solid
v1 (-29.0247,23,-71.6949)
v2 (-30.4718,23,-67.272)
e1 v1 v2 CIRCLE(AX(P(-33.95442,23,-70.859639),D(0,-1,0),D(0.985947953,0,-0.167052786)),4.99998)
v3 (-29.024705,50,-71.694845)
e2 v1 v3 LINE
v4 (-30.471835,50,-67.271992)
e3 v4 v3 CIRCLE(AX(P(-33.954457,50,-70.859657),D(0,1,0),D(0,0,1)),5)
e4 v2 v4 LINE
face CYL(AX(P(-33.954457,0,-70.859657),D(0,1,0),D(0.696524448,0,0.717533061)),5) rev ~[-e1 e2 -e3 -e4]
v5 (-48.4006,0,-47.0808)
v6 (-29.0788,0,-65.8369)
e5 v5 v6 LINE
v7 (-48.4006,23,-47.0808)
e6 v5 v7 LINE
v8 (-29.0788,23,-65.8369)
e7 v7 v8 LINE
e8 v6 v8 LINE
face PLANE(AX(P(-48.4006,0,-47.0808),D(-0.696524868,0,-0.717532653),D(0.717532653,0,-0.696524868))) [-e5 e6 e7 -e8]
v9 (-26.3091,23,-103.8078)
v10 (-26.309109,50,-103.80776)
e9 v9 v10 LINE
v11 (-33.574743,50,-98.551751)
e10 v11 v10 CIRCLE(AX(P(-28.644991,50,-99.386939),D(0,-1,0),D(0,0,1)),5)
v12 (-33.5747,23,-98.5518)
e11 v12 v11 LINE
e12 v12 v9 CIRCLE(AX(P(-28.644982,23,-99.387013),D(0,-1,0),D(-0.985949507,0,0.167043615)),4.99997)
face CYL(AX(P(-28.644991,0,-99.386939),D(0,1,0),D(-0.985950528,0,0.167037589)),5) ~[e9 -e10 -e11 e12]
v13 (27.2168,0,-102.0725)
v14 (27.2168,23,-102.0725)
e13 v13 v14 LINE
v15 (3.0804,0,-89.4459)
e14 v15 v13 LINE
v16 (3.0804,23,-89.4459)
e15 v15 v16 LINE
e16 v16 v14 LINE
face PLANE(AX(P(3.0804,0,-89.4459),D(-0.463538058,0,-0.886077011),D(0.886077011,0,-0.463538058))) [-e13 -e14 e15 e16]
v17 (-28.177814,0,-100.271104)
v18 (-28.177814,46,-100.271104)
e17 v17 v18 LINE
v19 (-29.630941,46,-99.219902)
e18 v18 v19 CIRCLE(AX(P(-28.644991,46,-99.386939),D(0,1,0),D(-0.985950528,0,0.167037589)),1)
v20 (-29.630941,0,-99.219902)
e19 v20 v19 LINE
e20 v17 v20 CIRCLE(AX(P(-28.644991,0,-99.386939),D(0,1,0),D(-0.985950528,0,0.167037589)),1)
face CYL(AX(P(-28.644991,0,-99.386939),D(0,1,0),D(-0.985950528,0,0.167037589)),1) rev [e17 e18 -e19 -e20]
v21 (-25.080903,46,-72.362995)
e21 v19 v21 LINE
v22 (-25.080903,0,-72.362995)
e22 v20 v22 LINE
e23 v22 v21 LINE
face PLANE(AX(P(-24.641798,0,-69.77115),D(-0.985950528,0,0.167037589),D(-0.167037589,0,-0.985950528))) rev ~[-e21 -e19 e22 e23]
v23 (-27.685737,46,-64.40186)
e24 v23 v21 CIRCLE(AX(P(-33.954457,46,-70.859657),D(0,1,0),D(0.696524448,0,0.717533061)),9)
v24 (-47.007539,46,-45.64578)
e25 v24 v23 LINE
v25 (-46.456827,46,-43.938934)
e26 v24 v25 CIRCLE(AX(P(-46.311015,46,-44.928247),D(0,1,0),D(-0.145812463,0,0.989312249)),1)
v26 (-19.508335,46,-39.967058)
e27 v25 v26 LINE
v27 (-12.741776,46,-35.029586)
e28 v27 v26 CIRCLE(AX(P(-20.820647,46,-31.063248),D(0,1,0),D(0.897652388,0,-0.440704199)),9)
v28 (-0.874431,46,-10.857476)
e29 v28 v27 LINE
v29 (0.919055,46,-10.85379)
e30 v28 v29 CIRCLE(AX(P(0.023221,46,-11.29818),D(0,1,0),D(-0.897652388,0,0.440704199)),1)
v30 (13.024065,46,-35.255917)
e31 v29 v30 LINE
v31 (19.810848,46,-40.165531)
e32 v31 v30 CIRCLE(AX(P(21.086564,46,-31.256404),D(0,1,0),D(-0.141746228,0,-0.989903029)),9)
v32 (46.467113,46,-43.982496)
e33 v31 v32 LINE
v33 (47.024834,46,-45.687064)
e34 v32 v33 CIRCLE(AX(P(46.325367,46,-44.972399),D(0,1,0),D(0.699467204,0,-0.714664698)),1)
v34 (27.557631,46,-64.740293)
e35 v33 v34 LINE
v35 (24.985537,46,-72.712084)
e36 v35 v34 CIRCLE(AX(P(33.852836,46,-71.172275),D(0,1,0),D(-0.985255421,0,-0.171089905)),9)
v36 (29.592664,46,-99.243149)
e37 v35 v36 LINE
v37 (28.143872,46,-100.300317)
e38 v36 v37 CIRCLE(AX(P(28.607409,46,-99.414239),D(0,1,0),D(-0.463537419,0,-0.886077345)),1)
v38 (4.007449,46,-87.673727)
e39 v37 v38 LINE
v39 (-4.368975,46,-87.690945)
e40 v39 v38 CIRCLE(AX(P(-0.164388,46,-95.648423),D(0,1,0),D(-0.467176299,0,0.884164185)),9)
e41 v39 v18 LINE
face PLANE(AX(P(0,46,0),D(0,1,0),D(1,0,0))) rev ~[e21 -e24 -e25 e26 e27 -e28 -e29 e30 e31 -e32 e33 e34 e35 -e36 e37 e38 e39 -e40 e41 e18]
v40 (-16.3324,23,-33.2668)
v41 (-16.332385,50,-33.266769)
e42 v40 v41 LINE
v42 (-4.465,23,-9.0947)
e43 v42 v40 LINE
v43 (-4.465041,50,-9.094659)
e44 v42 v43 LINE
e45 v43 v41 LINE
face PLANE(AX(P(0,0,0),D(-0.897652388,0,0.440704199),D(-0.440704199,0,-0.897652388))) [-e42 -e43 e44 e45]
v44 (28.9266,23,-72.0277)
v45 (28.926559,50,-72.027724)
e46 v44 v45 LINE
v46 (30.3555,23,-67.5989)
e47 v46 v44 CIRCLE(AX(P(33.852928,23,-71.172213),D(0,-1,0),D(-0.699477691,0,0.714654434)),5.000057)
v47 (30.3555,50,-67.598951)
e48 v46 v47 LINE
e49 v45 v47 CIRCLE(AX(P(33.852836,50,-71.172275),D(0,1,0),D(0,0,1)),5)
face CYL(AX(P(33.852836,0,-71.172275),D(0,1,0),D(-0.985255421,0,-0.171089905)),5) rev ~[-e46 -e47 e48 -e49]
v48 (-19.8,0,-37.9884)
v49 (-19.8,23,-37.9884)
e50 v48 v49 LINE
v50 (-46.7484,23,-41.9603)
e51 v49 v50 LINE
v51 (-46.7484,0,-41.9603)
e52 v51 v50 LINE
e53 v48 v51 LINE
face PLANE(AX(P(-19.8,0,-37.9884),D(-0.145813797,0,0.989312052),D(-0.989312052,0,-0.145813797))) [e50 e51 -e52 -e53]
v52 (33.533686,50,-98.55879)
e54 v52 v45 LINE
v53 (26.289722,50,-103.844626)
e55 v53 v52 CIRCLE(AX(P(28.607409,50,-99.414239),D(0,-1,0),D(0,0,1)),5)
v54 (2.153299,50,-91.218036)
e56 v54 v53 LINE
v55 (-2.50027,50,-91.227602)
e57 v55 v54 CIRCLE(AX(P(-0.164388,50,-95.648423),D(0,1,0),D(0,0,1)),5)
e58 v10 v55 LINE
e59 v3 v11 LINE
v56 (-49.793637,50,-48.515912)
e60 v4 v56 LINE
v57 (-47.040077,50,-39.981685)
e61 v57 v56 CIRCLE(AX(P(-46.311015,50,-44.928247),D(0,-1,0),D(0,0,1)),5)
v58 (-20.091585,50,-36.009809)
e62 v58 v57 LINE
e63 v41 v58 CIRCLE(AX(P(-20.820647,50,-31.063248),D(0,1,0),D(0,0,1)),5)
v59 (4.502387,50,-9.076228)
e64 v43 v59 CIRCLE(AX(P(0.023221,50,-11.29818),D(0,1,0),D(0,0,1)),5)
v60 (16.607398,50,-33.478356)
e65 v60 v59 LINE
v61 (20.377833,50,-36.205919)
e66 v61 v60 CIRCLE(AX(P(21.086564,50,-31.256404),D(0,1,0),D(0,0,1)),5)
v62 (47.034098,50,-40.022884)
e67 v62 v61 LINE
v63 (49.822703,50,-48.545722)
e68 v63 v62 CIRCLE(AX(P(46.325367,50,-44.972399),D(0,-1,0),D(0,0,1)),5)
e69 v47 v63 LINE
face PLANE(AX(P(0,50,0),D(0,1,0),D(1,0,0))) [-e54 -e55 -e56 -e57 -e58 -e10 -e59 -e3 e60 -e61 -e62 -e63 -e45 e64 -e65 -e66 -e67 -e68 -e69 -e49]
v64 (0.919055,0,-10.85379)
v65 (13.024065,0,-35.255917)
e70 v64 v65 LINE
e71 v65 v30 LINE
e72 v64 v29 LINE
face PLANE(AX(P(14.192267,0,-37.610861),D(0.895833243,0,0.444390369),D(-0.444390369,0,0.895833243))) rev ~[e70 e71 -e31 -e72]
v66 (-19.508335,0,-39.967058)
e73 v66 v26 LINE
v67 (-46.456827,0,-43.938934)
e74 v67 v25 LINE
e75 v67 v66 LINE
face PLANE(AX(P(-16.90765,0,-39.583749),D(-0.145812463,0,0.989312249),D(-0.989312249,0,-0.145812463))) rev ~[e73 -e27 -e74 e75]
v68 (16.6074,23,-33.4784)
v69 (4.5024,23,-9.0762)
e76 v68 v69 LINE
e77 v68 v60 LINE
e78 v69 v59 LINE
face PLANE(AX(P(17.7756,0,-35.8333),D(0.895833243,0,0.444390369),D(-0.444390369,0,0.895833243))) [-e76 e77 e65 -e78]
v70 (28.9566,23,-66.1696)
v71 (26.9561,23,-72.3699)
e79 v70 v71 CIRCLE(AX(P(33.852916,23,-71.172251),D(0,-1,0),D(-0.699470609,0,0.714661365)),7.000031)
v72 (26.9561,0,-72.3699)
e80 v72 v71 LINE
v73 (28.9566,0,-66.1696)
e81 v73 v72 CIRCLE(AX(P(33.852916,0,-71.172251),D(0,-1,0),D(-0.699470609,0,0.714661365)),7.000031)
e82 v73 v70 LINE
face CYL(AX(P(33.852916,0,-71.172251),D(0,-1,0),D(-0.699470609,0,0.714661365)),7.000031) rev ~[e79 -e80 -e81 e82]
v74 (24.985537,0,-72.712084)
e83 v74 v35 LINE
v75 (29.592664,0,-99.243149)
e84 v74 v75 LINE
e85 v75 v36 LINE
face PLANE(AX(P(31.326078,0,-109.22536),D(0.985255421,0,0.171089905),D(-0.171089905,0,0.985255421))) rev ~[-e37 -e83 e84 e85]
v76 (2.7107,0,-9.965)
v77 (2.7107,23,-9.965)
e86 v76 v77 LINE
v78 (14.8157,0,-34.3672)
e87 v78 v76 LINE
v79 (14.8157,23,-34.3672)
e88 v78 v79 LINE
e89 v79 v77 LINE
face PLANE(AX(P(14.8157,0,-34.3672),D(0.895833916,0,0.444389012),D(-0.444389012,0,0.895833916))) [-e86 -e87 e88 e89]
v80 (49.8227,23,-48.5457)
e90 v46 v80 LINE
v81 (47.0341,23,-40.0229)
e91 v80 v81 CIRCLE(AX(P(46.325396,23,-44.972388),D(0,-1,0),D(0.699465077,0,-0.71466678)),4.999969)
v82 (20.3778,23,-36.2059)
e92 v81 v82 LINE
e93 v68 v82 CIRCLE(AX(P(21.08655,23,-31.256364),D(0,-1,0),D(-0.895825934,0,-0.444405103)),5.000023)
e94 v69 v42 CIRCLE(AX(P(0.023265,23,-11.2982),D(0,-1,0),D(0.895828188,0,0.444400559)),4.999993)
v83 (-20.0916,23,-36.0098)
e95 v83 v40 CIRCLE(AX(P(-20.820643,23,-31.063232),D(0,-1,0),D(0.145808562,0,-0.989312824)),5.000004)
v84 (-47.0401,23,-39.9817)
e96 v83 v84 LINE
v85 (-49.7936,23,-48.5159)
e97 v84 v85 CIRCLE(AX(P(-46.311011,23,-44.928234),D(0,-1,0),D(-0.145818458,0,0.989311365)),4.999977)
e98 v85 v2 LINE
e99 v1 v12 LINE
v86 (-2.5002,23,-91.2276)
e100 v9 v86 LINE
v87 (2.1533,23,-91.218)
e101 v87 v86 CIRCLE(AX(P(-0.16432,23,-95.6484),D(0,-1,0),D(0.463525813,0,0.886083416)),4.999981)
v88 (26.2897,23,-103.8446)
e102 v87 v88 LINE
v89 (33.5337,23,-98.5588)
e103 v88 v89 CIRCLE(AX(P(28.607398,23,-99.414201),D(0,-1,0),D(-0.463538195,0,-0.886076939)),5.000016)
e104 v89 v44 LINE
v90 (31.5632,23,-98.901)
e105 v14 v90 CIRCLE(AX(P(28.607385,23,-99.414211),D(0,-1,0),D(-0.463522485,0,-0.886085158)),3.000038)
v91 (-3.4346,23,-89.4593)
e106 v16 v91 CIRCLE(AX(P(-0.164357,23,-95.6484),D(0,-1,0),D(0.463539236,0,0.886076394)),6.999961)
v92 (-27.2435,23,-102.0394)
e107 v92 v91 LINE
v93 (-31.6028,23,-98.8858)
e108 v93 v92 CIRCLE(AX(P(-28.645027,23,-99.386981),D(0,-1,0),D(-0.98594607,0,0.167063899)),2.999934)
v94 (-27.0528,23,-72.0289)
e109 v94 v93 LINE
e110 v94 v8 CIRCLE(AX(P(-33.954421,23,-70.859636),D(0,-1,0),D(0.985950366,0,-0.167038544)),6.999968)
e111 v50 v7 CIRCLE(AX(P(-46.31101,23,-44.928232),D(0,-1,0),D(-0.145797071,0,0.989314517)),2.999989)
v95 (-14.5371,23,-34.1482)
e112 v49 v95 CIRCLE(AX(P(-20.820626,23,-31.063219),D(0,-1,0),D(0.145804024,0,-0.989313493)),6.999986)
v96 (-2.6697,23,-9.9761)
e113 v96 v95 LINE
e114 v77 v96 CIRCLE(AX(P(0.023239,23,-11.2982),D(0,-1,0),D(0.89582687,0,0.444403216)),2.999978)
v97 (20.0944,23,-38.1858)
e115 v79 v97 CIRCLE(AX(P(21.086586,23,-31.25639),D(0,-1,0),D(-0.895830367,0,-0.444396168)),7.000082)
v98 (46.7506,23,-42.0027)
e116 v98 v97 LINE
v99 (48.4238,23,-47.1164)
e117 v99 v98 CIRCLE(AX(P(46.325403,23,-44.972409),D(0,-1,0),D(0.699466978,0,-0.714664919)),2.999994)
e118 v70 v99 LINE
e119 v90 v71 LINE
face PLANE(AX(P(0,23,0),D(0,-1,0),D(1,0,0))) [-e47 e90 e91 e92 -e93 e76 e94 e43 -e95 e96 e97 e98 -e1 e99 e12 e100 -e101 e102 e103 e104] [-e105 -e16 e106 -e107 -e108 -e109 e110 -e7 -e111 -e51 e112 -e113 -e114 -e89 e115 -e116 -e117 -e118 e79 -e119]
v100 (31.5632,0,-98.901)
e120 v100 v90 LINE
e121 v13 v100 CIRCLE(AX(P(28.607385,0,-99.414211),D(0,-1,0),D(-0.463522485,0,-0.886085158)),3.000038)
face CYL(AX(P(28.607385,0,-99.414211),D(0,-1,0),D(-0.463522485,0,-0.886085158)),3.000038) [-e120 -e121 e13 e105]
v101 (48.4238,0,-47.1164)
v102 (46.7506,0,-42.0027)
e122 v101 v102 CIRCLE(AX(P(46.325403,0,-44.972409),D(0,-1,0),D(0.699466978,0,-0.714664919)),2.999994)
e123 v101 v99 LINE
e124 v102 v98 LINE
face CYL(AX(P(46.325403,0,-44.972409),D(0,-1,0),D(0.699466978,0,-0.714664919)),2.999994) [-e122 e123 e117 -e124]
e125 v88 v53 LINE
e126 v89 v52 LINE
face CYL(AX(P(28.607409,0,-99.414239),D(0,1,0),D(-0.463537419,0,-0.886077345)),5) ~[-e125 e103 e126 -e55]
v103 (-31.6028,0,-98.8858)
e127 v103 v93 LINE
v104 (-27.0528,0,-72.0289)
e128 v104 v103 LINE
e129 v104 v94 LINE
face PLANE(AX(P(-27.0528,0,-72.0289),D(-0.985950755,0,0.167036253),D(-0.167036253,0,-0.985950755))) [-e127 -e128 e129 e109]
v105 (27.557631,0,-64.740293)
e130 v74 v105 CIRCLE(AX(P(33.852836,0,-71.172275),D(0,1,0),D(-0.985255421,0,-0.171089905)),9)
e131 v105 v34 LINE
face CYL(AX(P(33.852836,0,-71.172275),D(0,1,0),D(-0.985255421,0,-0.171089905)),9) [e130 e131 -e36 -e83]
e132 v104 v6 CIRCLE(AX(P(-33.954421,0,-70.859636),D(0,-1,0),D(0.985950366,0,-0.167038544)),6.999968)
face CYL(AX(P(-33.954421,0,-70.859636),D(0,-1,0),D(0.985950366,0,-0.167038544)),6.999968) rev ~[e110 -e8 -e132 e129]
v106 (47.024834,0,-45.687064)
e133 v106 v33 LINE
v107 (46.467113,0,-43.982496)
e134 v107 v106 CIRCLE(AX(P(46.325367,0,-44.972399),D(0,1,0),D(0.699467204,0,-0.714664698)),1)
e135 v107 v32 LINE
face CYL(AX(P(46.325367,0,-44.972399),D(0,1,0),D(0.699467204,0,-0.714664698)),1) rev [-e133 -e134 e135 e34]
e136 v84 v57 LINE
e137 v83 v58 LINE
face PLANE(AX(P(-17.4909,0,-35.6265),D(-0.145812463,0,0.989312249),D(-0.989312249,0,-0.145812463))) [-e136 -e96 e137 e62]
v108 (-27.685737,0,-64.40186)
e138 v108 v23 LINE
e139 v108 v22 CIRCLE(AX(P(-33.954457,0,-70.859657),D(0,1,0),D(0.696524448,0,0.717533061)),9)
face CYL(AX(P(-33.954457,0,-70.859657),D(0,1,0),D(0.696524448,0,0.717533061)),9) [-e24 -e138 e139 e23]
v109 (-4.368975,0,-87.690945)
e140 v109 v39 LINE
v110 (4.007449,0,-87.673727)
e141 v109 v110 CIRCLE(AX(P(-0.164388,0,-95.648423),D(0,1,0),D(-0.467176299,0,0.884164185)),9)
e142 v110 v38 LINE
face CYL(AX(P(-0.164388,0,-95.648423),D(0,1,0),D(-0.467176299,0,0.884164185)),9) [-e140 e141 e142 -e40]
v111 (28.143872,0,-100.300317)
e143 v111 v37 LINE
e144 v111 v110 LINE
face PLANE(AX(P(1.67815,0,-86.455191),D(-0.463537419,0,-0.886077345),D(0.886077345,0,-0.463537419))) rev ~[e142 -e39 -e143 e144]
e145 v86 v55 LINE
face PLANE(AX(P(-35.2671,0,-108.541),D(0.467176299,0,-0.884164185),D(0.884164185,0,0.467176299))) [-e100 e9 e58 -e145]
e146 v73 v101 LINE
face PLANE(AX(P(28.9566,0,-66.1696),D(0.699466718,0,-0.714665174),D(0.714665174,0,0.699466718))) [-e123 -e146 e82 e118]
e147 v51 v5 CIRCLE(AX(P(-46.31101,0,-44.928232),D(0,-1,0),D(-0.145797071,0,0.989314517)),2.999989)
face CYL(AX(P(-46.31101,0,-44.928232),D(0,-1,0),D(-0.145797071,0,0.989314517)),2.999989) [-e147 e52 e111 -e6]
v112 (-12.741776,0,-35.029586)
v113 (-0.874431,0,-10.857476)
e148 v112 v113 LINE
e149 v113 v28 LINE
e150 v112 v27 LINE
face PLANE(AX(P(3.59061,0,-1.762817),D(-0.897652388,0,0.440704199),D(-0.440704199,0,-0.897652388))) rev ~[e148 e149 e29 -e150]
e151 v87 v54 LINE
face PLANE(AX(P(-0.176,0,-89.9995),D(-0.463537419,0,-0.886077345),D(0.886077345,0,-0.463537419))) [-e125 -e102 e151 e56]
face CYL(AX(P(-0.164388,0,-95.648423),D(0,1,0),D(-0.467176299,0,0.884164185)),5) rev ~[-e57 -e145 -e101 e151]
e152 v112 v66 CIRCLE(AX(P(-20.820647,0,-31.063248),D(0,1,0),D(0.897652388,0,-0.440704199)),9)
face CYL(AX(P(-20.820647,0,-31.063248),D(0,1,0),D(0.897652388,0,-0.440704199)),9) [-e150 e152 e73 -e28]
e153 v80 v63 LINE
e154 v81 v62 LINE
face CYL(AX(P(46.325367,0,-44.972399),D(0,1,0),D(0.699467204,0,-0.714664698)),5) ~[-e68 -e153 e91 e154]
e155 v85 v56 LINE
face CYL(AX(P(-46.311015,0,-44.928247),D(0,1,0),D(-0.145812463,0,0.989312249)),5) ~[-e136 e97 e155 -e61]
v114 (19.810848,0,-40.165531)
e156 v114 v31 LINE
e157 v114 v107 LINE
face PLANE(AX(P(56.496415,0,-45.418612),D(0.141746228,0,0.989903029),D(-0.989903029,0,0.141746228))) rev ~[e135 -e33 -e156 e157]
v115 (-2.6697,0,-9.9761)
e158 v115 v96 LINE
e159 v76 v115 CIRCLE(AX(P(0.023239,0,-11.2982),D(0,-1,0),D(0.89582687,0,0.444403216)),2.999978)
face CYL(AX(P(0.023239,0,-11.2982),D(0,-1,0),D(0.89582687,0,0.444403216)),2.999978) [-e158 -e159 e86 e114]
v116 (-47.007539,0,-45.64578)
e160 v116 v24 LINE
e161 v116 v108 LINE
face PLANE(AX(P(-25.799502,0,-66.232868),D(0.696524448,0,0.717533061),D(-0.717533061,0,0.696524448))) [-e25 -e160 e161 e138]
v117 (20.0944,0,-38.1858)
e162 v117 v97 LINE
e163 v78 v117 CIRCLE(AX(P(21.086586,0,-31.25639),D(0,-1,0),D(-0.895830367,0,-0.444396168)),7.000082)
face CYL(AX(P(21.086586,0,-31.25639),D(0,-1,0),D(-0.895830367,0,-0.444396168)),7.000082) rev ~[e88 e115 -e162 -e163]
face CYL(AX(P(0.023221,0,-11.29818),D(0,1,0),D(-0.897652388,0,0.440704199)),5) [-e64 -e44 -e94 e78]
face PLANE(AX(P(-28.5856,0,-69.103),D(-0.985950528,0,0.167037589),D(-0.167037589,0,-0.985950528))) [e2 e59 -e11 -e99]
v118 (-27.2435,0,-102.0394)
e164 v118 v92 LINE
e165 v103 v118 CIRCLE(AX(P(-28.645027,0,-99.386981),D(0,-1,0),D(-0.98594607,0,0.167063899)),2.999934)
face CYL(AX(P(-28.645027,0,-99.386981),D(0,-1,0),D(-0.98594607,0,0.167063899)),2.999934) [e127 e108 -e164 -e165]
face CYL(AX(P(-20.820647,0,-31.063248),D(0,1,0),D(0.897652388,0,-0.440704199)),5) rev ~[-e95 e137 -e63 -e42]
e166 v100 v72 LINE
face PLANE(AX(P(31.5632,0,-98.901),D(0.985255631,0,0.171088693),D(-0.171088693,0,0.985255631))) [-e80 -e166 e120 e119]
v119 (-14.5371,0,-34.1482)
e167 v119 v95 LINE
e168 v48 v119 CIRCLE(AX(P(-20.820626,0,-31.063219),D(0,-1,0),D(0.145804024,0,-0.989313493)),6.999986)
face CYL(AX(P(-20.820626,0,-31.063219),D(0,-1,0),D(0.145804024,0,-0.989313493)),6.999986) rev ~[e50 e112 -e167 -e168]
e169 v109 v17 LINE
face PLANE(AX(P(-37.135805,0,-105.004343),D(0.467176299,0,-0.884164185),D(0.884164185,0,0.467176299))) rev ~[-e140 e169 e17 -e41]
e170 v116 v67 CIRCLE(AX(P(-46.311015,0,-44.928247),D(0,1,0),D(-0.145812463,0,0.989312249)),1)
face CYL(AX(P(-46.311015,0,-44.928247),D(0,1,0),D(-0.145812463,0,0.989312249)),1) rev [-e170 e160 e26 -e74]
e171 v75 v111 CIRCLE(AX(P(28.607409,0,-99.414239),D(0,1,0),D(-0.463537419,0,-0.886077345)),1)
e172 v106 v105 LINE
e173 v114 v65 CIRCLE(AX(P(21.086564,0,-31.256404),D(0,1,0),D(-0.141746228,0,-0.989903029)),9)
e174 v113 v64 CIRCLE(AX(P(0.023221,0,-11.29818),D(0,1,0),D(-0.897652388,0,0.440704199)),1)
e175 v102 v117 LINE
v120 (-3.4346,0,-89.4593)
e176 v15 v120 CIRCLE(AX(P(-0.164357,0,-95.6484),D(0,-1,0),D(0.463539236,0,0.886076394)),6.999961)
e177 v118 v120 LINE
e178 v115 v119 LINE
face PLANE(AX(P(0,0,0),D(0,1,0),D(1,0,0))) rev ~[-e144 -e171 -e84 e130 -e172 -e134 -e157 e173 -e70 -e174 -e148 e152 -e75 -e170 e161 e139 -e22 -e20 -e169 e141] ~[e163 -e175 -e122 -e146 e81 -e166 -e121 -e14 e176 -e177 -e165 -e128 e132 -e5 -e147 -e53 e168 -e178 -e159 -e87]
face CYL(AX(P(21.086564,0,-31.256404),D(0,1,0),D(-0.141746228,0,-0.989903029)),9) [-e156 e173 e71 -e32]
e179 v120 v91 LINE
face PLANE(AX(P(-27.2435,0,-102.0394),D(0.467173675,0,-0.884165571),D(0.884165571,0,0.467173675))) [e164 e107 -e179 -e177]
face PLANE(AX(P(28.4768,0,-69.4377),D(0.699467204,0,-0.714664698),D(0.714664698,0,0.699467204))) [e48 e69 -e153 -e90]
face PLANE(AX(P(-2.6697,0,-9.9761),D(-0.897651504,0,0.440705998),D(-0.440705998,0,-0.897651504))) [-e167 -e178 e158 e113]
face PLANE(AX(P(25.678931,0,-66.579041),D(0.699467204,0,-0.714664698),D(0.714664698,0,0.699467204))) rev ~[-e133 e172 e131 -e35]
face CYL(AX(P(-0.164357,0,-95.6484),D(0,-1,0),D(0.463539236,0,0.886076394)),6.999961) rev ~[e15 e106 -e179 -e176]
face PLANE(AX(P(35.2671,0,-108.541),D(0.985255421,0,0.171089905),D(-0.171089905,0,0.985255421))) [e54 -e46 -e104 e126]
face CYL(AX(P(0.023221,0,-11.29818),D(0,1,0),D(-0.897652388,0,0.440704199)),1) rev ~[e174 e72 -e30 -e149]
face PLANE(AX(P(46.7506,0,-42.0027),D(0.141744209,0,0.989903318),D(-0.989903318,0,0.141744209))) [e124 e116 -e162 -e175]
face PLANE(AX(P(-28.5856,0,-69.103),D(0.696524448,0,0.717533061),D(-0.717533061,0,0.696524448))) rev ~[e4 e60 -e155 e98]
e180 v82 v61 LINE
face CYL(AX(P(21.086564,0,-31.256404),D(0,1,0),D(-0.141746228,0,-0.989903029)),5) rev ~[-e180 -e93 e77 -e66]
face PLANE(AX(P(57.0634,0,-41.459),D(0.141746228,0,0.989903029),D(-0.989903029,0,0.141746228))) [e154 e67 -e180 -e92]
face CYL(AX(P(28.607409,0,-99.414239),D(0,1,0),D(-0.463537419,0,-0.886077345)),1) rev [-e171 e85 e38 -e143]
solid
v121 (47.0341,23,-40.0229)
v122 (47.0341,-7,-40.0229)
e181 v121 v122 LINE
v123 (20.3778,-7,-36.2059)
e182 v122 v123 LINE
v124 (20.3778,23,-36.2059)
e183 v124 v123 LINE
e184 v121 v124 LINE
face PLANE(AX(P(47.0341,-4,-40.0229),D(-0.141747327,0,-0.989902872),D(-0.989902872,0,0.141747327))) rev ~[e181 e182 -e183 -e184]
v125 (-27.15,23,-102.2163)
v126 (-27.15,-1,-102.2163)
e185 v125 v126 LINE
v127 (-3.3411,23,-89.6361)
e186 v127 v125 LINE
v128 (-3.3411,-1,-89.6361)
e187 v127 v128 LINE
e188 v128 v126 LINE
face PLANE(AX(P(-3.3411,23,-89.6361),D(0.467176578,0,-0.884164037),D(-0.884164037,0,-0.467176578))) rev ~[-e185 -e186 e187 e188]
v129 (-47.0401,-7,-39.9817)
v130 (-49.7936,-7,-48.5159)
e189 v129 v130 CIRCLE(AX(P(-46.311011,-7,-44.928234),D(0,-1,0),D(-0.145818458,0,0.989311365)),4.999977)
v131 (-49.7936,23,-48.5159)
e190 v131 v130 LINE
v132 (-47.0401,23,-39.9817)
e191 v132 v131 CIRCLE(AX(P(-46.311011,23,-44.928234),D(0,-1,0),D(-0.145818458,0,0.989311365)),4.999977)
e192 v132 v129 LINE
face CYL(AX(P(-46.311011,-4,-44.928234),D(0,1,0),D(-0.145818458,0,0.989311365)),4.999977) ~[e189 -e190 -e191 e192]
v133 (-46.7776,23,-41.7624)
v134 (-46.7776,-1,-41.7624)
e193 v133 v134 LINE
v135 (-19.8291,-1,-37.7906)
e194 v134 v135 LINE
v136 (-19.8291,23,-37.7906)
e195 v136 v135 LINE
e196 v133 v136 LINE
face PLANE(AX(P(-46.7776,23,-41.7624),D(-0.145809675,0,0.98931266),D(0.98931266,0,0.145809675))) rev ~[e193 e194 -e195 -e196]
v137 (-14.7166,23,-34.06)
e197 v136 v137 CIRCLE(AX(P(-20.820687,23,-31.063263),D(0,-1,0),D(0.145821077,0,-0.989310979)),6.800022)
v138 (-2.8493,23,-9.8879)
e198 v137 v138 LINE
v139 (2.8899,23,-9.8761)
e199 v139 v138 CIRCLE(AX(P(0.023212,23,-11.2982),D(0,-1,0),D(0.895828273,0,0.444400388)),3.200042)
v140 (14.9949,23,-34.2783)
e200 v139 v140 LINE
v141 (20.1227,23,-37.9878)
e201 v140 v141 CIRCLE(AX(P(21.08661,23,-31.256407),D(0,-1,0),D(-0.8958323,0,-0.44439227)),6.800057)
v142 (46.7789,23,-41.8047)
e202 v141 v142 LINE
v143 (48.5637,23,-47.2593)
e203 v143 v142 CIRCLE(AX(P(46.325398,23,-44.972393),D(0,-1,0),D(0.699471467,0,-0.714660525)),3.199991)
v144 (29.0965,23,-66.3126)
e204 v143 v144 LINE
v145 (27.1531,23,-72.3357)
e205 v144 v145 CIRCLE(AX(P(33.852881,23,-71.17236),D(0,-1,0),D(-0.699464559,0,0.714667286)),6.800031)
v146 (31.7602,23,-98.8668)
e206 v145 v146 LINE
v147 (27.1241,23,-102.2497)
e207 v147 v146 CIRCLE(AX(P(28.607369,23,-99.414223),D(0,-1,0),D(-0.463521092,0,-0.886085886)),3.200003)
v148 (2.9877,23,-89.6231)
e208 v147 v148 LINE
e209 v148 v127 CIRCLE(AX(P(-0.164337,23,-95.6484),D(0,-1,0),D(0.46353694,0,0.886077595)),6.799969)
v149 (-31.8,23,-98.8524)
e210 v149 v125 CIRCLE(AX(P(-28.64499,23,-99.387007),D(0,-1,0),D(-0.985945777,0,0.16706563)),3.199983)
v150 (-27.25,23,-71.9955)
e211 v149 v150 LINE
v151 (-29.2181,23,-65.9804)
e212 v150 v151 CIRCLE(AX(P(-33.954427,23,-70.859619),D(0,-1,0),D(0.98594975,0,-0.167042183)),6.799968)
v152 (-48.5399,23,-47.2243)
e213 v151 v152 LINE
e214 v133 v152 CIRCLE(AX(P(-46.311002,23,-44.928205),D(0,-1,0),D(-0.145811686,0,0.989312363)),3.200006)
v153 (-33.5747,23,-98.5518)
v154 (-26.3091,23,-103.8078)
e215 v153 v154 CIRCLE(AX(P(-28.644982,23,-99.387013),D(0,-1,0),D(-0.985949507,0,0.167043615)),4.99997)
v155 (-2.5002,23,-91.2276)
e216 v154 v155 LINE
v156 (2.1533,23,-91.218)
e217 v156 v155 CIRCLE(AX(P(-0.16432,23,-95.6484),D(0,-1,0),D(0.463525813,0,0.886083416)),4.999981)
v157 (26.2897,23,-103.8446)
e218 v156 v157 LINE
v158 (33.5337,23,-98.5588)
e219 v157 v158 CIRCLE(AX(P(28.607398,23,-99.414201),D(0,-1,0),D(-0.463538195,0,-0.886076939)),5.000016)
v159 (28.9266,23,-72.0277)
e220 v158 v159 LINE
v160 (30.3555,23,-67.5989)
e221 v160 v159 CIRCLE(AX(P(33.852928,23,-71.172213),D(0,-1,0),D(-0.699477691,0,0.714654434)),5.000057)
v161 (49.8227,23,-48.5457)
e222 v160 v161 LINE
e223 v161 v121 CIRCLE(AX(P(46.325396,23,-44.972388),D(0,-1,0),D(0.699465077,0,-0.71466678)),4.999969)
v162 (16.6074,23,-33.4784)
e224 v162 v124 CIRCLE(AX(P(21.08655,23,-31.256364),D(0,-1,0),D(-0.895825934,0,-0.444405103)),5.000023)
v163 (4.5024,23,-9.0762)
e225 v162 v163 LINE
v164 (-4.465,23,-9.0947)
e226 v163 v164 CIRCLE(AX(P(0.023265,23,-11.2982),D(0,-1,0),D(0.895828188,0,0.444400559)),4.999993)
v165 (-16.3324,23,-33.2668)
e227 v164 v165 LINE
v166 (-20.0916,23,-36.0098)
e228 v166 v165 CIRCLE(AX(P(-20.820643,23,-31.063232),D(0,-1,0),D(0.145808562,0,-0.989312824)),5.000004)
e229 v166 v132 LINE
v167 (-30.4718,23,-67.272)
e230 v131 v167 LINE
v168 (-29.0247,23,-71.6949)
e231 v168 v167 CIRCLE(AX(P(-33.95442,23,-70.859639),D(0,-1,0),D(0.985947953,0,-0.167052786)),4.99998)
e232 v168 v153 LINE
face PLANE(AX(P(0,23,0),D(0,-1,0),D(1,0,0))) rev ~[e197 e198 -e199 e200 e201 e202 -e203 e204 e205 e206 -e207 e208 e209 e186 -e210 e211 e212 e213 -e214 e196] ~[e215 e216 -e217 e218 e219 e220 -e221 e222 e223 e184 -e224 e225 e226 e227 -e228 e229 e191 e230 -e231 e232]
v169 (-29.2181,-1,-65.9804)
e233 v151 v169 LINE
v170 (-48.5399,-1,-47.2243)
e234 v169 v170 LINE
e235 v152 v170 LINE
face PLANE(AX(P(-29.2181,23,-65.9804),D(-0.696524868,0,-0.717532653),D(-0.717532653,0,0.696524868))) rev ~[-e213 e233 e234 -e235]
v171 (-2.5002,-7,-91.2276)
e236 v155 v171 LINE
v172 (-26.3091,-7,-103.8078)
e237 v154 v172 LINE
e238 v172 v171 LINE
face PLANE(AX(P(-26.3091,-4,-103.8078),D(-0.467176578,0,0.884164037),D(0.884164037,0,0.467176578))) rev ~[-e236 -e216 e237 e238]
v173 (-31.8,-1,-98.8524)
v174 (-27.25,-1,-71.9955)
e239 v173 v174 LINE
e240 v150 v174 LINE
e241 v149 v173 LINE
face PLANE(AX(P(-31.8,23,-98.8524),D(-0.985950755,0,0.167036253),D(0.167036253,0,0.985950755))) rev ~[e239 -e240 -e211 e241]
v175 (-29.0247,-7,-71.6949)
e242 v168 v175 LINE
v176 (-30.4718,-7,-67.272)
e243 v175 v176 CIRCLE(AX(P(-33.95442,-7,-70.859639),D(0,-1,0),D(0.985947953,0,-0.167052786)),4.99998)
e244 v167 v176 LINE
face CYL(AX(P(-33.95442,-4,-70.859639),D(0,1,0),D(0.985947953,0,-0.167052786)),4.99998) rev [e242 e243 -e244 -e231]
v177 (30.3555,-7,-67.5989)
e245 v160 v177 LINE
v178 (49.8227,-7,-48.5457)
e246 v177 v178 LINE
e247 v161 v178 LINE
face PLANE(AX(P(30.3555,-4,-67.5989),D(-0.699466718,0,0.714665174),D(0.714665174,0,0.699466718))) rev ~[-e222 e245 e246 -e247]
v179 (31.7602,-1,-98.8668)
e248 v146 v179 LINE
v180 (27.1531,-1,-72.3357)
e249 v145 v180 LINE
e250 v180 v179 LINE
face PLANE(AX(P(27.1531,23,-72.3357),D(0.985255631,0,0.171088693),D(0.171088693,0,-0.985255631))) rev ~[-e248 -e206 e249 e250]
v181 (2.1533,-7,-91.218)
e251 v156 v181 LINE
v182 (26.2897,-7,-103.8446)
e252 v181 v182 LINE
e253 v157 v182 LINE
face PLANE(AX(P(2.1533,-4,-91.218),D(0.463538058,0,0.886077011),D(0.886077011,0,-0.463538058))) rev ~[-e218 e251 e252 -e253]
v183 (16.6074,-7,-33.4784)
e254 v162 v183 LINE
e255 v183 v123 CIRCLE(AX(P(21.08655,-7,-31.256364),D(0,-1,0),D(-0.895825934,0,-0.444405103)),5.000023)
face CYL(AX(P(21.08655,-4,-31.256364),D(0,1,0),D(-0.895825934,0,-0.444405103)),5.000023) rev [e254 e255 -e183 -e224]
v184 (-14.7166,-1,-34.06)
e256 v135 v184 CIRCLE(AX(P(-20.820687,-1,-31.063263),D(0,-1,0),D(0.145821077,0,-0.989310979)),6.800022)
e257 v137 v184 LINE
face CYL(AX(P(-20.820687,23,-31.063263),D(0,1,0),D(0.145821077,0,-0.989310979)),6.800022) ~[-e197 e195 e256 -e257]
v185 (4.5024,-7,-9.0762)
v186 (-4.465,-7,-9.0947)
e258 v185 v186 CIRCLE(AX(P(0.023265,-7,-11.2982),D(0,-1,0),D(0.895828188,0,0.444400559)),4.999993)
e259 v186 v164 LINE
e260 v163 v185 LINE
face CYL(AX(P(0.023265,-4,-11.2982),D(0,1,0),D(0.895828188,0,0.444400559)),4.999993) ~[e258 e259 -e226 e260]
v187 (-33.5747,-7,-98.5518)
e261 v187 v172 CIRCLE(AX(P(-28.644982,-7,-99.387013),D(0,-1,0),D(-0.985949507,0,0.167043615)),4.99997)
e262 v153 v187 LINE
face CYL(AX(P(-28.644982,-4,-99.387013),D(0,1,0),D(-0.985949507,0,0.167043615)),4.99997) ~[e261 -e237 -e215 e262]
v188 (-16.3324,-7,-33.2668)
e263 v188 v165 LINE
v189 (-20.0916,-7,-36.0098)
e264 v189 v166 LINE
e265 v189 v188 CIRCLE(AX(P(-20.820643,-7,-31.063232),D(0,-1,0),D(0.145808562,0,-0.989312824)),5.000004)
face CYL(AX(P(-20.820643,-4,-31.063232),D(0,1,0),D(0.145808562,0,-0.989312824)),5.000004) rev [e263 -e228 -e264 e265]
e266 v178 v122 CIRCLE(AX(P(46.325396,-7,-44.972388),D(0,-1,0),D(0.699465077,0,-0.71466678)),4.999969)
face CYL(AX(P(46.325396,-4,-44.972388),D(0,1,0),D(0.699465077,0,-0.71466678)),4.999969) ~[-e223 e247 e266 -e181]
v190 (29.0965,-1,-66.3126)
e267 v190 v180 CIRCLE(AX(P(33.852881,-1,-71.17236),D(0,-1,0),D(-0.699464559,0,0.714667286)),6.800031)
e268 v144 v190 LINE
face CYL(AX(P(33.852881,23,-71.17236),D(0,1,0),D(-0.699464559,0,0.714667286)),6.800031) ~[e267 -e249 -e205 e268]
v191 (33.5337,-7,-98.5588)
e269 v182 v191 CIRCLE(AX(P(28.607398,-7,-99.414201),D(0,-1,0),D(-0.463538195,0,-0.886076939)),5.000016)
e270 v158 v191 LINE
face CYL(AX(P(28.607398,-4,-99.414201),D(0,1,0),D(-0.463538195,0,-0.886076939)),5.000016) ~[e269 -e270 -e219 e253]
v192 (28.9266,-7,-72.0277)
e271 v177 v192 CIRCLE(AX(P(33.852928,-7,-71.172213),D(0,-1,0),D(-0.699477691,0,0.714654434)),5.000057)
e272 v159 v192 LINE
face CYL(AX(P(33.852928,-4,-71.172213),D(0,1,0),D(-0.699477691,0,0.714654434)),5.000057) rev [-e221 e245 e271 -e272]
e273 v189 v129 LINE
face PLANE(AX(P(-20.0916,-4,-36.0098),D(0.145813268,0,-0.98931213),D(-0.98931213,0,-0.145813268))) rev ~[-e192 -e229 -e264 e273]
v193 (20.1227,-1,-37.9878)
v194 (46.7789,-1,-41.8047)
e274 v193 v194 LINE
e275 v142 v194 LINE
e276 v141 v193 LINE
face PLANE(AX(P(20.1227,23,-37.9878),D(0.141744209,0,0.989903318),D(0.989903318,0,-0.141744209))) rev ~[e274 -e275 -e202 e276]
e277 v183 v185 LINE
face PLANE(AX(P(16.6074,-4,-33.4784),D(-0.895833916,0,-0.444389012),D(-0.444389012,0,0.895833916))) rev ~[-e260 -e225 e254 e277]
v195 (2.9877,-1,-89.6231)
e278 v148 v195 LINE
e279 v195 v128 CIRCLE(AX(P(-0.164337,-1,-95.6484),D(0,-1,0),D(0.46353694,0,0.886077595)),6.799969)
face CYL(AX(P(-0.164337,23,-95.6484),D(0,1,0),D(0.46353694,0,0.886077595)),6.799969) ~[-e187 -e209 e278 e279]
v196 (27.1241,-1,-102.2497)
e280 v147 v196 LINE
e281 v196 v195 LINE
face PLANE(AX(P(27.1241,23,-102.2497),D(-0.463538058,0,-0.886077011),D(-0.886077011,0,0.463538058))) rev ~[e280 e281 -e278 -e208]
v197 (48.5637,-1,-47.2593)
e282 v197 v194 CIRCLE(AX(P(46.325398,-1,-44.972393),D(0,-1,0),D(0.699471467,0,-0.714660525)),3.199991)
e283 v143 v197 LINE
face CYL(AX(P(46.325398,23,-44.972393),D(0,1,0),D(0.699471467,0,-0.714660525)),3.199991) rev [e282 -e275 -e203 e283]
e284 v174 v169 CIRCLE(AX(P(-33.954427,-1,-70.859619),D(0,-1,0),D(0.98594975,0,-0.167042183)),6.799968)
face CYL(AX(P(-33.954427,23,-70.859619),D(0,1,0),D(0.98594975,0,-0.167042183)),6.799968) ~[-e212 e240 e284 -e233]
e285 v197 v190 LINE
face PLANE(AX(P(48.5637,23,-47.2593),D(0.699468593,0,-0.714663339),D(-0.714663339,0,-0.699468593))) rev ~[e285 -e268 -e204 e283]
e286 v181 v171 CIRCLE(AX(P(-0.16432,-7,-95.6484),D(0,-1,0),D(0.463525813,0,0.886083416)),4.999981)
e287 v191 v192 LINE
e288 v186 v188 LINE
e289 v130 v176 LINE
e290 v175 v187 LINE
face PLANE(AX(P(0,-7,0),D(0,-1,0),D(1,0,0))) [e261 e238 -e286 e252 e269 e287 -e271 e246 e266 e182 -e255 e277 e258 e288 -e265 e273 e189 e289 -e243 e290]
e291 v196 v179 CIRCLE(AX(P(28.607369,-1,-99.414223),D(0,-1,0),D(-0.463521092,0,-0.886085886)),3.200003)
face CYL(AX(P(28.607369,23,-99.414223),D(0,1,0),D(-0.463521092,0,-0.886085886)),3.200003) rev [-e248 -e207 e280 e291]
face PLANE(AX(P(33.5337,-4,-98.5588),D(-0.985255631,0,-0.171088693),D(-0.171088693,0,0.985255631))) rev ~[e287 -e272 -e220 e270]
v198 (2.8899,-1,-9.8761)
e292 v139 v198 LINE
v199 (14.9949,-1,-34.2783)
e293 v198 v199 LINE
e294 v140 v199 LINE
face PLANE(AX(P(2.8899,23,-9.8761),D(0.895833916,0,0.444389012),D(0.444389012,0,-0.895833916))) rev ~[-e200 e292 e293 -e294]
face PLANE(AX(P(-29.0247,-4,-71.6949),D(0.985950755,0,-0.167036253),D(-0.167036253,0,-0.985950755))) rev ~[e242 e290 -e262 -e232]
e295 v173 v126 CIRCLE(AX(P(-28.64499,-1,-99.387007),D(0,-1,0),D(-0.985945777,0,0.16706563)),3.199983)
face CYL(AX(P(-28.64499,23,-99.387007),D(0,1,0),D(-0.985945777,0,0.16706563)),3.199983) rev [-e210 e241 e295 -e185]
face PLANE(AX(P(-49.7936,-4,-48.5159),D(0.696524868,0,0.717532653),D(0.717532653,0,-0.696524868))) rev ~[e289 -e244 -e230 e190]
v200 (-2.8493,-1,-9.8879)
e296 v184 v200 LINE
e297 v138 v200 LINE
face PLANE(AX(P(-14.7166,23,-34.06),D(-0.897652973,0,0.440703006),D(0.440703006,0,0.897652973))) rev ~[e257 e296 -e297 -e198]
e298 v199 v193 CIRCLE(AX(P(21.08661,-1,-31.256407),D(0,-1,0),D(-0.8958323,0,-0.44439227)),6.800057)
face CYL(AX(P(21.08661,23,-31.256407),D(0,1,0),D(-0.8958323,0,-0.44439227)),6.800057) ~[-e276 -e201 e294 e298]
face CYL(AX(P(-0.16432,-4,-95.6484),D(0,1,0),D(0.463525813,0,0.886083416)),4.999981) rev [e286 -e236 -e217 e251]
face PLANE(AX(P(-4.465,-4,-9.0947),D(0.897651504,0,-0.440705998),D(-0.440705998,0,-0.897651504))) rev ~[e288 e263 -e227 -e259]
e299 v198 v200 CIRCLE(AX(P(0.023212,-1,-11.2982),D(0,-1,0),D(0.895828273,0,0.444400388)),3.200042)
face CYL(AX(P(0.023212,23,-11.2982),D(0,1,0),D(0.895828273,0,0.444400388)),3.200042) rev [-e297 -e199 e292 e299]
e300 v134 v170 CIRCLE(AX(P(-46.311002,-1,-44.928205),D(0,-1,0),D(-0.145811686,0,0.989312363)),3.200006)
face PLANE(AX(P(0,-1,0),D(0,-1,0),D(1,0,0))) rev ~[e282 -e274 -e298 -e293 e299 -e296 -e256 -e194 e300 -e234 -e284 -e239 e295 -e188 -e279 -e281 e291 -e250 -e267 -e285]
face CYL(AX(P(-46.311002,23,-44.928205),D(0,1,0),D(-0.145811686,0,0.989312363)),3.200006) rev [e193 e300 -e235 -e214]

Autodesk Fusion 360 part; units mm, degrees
sketch "Sketch1" plane through (0, 0, 0) normal (0, 1, 0) x (1, 0, 0)
  line L0 (0, 0) -> (0, 60) construction
  line L1 (57.0634, 41.459) -> (0, 60) construction
  line L2 (35.2671, 108.541) -> (0, 60) construction
  line L3 (-35.2671, 108.541) -> (0, 60) construction
  line L4 (-57.0634, 41.459) -> (0, 60) construction
  circle A0 centre (-57.0634, 41.459) radius 40 construction
  circle A1 centre (0, 0) radius 40 construction
  line L5 (0, 60) -> (-17.4909, 35.6265) construction
  line L6 (0, 60) -> (17.7756, 35.8333) construction
  line L7 (0, 60) -> (28.4768, 69.4377) construction
  line L8 (0, 60) -> (-0.176, 89.9995) construction
  line L9 (0, 60) -> (-28.5856, 69.103) construction
  line L10 (0, 0) -> (-17.4909, 35.6265)
  line L11 (-17.4909, 35.6265) -> (-57.0634, 41.459)
  line L12 (-28.5856, 69.103) -> (-35.2671, 108.541)
  line L13 (-28.5856, 69.103) -> (-57.0634, 41.459)
  line L14 (-35.2671, 108.541) -> (-0.176, 89.9995)
  line L15 (-0.176, 89.9995) -> (35.2671, 108.541)
  line L16 (35.2671, 108.541) -> (28.4768, 69.4377)
  line L17 (28.4768, 69.4377) -> (57.0634, 41.459)
  line L18 (57.0634, 41.459) -> (17.7756, 35.8333)
  line L19 (17.7756, 35.8333) -> (0, 0)
  dimension "d1" = 60
  dimension "d3" = 360
  dimension "d4" = 80
  dimension "d5" = 80
  dimension "d6" = 30
  dimension "d8" = 360
extrude "Extrude1" add sketch "Sketch1" along normal blind 50 makes body 1
fillet "Fillet1" radius 5 10 edges at (57.0634, 25, -41.459) (0, 25, 0) (17.7756, 25, -35.8333) (-57.0634, 25, -41.459) (35.2671, 25, -108.541) (-17.4909, 25, -35.6265) (-28.5856, 25, -69.103) (-35.2671, 25, -108.541) (-0.176, 25, -89.9995) (28.4768, 25, -69.4377) on bodies 1
shell "Shell1" thickness 4 removed faces 1 at (-6.018, 0, -58.0817) on bodies 1
sketch "Sketch2" plane through (0, 0, 0) normal (0, -1, 0) x (1, 0, 0)
  arc A0 (13.0241, -35.2559) -> (19.8109, -40.1656) centre (21.0866, -31.2564) ccw
  line L0 (19.8109, -40.1656) -> (46.4671, -43.9825)
  arc A1 (47.0248, -45.6871) -> (46.4671, -43.9825) centre (46.3254, -44.9724) ccw
  line L1 (47.0248, -45.6871) -> (27.5577, -64.7403)
  arc A2 (27.5577, -64.7403) -> (24.9856, -72.7121) centre (33.8529, -71.1723) ccw
  line L2 (24.9856, -72.7121) -> (29.5927, -99.2432)
  arc A3 (28.1439, -100.3003) -> (29.5927, -99.2432) centre (28.6074, -99.4142) ccw
  line L3 (28.1439, -100.3003) -> (4.0075, -87.6737)
  arc A4 (4.0075, -87.6737) -> (-4.3689, -87.6909) centre (-0.1643, -95.6484) ccw
  line L4 (-4.3689, -87.6909) -> (-28.1778, -100.2711)
  arc A5 (-29.6309, -99.2199) -> (-28.1778, -100.2711) centre (-28.645, -99.387) ccw
  line L5 (-29.6309, -99.2199) -> (-25.0809, -72.363)
  arc A6 (-25.0809, -72.363) -> (-27.6857, -64.4019) centre (-33.9544, -70.8597) ccw
  line L6 (-27.6857, -64.4019) -> (-47.0075, -45.6458)
  arc A7 (-46.4568, -43.9389) -> (-47.0075, -45.6458) centre (-46.311, -44.9282) ccw
  line L7 (-46.4568, -43.9389) -> (-19.5083, -39.967)
  arc A8 (-19.5083, -39.967) -> (-12.7418, -35.0296) centre (-20.8206, -31.0632) ccw
  line L8 (-12.7418, -35.0296) -> (-0.8744, -10.8575)
  arc A9 (0.9191, -10.8538) -> (-0.8744, -10.8575) centre (0.0232, -11.2982) ccw
  line L9 (0.9191, -10.8538) -> (13.0241, -35.2559)
  arc A10 (-33.5747, -98.5518) -> (-26.3091, -103.8078) centre (-28.645, -99.387) ccw
  line L10 (-26.3091, -103.8078) -> (-2.5002, -91.2276)
  arc A11 (2.1533, -91.218) -> (-2.5002, -91.2276) centre (-0.1643, -95.6484) ccw
  line L11 (2.1533, -91.218) -> (26.2897, -103.8446)
  arc A12 (26.2897, -103.8446) -> (33.5337, -98.5588) centre (28.6074, -99.4142) ccw
  line L12 (33.5337, -98.5588) -> (28.9266, -72.0277)
  arc A13 (30.3555, -67.5989) -> (28.9266, -72.0277) centre (33.8529, -71.1723) ccw
  line L13 (30.3555, -67.5989) -> (49.8227, -48.5457)
  arc A14 (49.8227, -48.5457) -> (47.0341, -40.0229) centre (46.3254, -44.9724) ccw
  line L14 (47.0341, -40.0229) -> (20.3778, -36.2059)
  arc A15 (16.6074, -33.4784) -> (20.3778, -36.2059) centre (21.0866, -31.2564) ccw
  line L15 (16.6074, -33.4784) -> (4.5024, -9.0762)
  arc A16 (4.5024, -9.0762) -> (-4.465, -9.0947) centre (0.0232, -11.2982) ccw
  line L16 (-4.465, -9.0947) -> (-16.3324, -33.2668)
  arc A17 (-20.0916, -36.0098) -> (-16.3324, -33.2668) centre (-20.8206, -31.0632) ccw
  line L17 (-20.0916, -36.0098) -> (-47.0401, -39.9817)
  arc A18 (-47.0401, -39.9817) -> (-49.7936, -48.5159) centre (-46.311, -44.9282) ccw
  line L18 (-49.7936, -48.5159) -> (-30.4718, -67.272)
  arc A19 (-29.0247, -71.6949) -> (-30.4718, -67.272) centre (-33.9544, -70.8597) ccw
  line L19 (-29.0247, -71.6949) -> (-33.5747, -98.5518)
  arc A20 (14.8157, -34.3672) -> (20.0944, -38.1858) centre (21.0866, -31.2564) ccw
  line L20 (46.7506, -42.0027) -> (20.0944, -38.1858)
  arc A21 (48.4238, -47.1164) -> (46.7506, -42.0027) centre (46.3254, -44.9724) ccw
  line L21 (28.9566, -66.1696) -> (48.4238, -47.1164)
  arc A22 (28.9566, -66.1696) -> (26.9561, -72.3699) centre (33.8529, -71.1723) ccw
  line L22 (31.5632, -98.901) -> (26.9561, -72.3699)
  arc A23 (27.2168, -102.0725) -> (31.5632, -98.901) centre (28.6074, -99.4142) ccw
  line L23 (3.0804, -89.4459) -> (27.2168, -102.0725)
  arc A24 (3.0804, -89.4459) -> (-3.4346, -89.4593) centre (-0.1643, -95.6484) ccw
  line L24 (-27.2435, -102.0394) -> (-3.4346, -89.4593)
  arc A25 (-31.6028, -98.8858) -> (-27.2435, -102.0394) centre (-28.645, -99.387) ccw
  line L25 (-27.0528, -72.0289) -> (-31.6028, -98.8858)
  arc A26 (-27.0528, -72.0289) -> (-29.0788, -65.8369) centre (-33.9544, -70.8597) ccw
  line L26 (-48.4006, -47.0808) -> (-29.0788, -65.8369)
  arc A27 (-46.7484, -41.9603) -> (-48.4006, -47.0808) centre (-46.311, -44.9282) ccw
  line L27 (-19.8, -37.9884) -> (-46.7484, -41.9603)
  arc A28 (-19.8, -37.9884) -> (-14.5371, -34.1482) centre (-20.8206, -31.0632) ccw
  line L28 (-2.6697, -9.9761) -> (-14.5371, -34.1482)
  arc A29 (2.7107, -9.965) -> (-2.6697, -9.9761) centre (0.0232, -11.2982) ccw
  line L29 (14.8157, -34.3672) -> (2.7107, -9.965)
  dimension "d13" = -2
extrude "Extrude2" cut sketch "Sketch2" against normal blind 23 contours A10 L10 A11 L11 A12 L12 A13 L13 A14 L14 A15 L15 A16 L16 A17 L17 A18 L18 A19 L19 bodies 1
sketch "Sketch3" plane through (0, 23, 0) normal (0, -1, 0) x (1, 0, 0)
  line L0 (48.4238, -47.1164) -> (28.9566, -66.1696)
  arc A0 (28.9566, -66.1696) -> (26.9561, -72.3699) centre (33.8529, -71.1723) ccw
  line L1 (26.9561, -72.3699) -> (31.5632, -98.901)
  arc A1 (27.2168, -102.0725) -> (31.5632, -98.901) centre (28.6074, -99.4142) ccw
  line L2 (27.2168, -102.0725) -> (3.0804, -89.4459)
  arc A2 (3.0804, -89.4459) -> (-3.4346, -89.4593) centre (-0.1643, -95.6484) ccw
  line L3 (-3.4346, -89.4593) -> (-27.2435, -102.0394)
  arc A3 (-31.6028, -98.8858) -> (-27.2435, -102.0394) centre (-28.645, -99.387) ccw
  line L4 (-31.6028, -98.8858) -> (-27.0528, -72.0289)
  arc A4 (-27.0528, -72.0289) -> (-29.0788, -65.8369) centre (-33.9544, -70.8597) ccw
  line L5 (-29.0788, -65.8369) -> (-48.4006, -47.0808)
  arc A5 (-46.7484, -41.9603) -> (-48.4006, -47.0808) centre (-46.311, -44.9282) ccw
  line L6 (-46.7484, -41.9603) -> (-19.8, -37.9884)
  arc A6 (-19.8, -37.9884) -> (-14.5371, -34.1482) centre (-20.8206, -31.0632) ccw
  line L7 (-14.5371, -34.1482) -> (-2.6697, -9.9761)
  arc A7 (2.7107, -9.965) -> (-2.6697, -9.9761) centre (0.0232, -11.2982) ccw
  line L8 (2.7107, -9.965) -> (14.8157, -34.3672)
  arc A8 (14.8157, -34.3672) -> (20.0944, -38.1858) centre (21.0866, -31.2564) ccw
  line L9 (20.0944, -38.1858) -> (46.7506, -42.0027)
  arc A9 (48.4238, -47.1164) -> (46.7506, -42.0027) centre (46.3254, -44.9724) ccw
  line L10 (-20.0916, -36.0098) -> (-47.0401, -39.9817)
  arc A10 (-47.0401, -39.9817) -> (-49.7936, -48.5159) centre (-46.311, -44.9282) ccw
  line L11 (-49.7936, -48.5159) -> (-30.4718, -67.272)
  arc A11 (-29.0247, -71.6949) -> (-30.4718, -67.272) centre (-33.9544, -70.8597) ccw
  line L12 (-29.0247, -71.6949) -> (-33.5747, -98.5518)
  arc A12 (-33.5747, -98.5518) -> (-26.3091, -103.8078) centre (-28.645, -99.387) ccw
  line L13 (-26.3091, -103.8078) -> (-2.5002, -91.2276)
  arc A13 (2.1533, -91.218) -> (-2.5002, -91.2276) centre (-0.1643, -95.6484) ccw
  line L14 (2.1533, -91.218) -> (26.2897, -103.8446)
  arc A14 (26.2897, -103.8446) -> (33.5337, -98.5588) centre (28.6074, -99.4142) ccw
  line L15 (33.5337, -98.5588) -> (28.9266, -72.0277)
  arc A15 (30.3555, -67.5989) -> (28.9266, -72.0277) centre (33.8529, -71.1723) ccw
  line L16 (30.3555, -67.5989) -> (49.8227, -48.5457)
  arc A16 (49.8227, -48.5457) -> (47.0341, -40.0229) centre (46.3254, -44.9724) ccw
  line L17 (47.0341, -40.0229) -> (20.3778, -36.2059)
  arc A17 (16.6074, -33.4784) -> (20.3778, -36.2059) centre (21.0866, -31.2564) ccw
  line L18 (16.6074, -33.4784) -> (4.5024, -9.0762)
  arc A18 (4.5024, -9.0762) -> (-4.465, -9.0947) centre (0.0232, -11.2982) ccw
  line L19 (-4.465, -9.0947) -> (-16.3324, -33.2668)
  arc A19 (-20.0916, -36.0098) -> (-16.3324, -33.2668) centre (-20.8206, -31.0632) ccw
  arc A20 (2.8899, -9.8761) -> (-2.8493, -9.8879) centre (0.0232, -11.2982) ccw
  line L20 (-14.7166, -34.06) -> (-2.8493, -9.8879)
  arc A21 (-19.8291, -37.7906) -> (-14.7166, -34.06) centre (-20.8206, -31.0632) ccw
  line L21 (-46.7776, -41.7624) -> (-19.8291, -37.7906)
  arc A22 (-46.7776, -41.7624) -> (-48.5399, -47.2243) centre (-46.311, -44.9282) ccw
  line L22 (-29.2181, -65.9804) -> (-48.5399, -47.2243)
  arc A23 (-27.25, -71.9955) -> (-29.2181, -65.9804) centre (-33.9544, -70.8597) ccw
  line L23 (-31.8, -98.8524) -> (-27.25, -71.9955)
  arc A24 (-31.8, -98.8524) -> (-27.15, -102.2163) centre (-28.645, -99.387) ccw
  line L24 (-3.3411, -89.6361) -> (-27.15, -102.2163)
  arc A25 (2.9877, -89.6231) -> (-3.3411, -89.6361) centre (-0.1643, -95.6484) ccw
  line L25 (27.1241, -102.2497) -> (2.9877, -89.6231)
  arc A26 (27.1241, -102.2497) -> (31.7602, -98.8668) centre (28.6074, -99.4142) ccw
  line L26 (27.1531, -72.3357) -> (31.7602, -98.8668)
  arc A27 (29.0965, -66.3126) -> (27.1531, -72.3357) centre (33.8529, -71.1723) ccw
  line L27 (48.5637, -47.2593) -> (29.0965, -66.3126)
  arc A28 (48.5637, -47.2593) -> (46.7789, -41.8047) centre (46.3254, -44.9724) ccw
  line L28 (20.1227, -37.9878) -> (46.7789, -41.8047)
  arc A29 (14.9949, -34.2783) -> (20.1227, -37.9878) centre (21.0866, -31.2564) ccw
  line L29 (2.8899, -9.8761) -> (14.9949, -34.2783)
  dimension "d16" = 0.2
extrude "Extrude3" add sketch "Sketch3" along normal blind 24 separate body contours L10 A10 L11 A11 L12 A12 L13 A13 L14 A14 L15 A15 L16 A16 L17 A17 L18 A18 L19 A19 makes body 2
sketch "Sketch4" plane through (0, -1, 0) normal (0, -1, 0) x (1, 0, 0)
  arc A0 (-46.7776, -41.7624) -> (-48.5399, -47.2243) centre (-46.311, -44.9282) ccw
  line L0 (-46.7776, -41.7624) -> (-19.8291, -37.7906)
  arc A1 (-19.8291, -37.7906) -> (-14.7166, -34.06) centre (-20.8206, -31.0632) ccw
  line L1 (-14.7166, -34.06) -> (-2.8493, -9.8879)
  arc A2 (2.8899, -9.8761) -> (-2.8493, -9.8879) centre (0.0232, -11.2982) ccw
  line L2 (2.8899, -9.8761) -> (14.9949, -34.2783)
  arc A3 (14.9949, -34.2783) -> (20.1227, -37.9878) centre (21.0866, -31.2564) ccw
  line L3 (20.1227, -37.9878) -> (46.7789, -41.8047)
  arc A4 (48.5637, -47.2593) -> (46.7789, -41.8047) centre (46.3254, -44.9724) ccw
  line L4 (48.5637, -47.2593) -> (29.0965, -66.3126)
  arc A5 (29.0965, -66.3126) -> (27.1531, -72.3357) centre (33.8529, -71.1723) ccw
  line L5 (27.1531, -72.3357) -> (31.7602, -98.8668)
  arc A6 (27.1241, -102.2497) -> (31.7602, -98.8668) centre (28.6074, -99.4142) ccw
  line L6 (27.1241, -102.2497) -> (2.9877, -89.6231)
  arc A7 (2.9877, -89.6231) -> (-3.3411, -89.6361) centre (-0.1643, -95.6484) ccw
  line L7 (-3.3411, -89.6361) -> (-27.15, -102.2163)
  arc A8 (-31.8, -98.8524) -> (-27.15, -102.2163) centre (-28.645, -99.387) ccw
  line L8 (-31.8, -98.8524) -> (-27.25, -71.9955)
  arc A9 (-27.25, -71.9955) -> (-29.2181, -65.9804) centre (-33.9544, -70.8597) ccw
  line L9 (-29.2181, -65.9804) -> (-48.5399, -47.2243)
  arc A10 (-47.0401, -39.9817) -> (-49.7936, -48.5159) centre (-46.311, -44.9282) ccw
  line L10 (-49.7936, -48.5159) -> (-30.4718, -67.272)
  arc A11 (-29.0247, -71.6949) -> (-30.4718, -67.272) centre (-33.9544, -70.8597) ccw
  line L11 (-29.0247, -71.6949) -> (-33.5747, -98.5518)
  arc A12 (-33.5747, -98.5518) -> (-26.3091, -103.8078) centre (-28.645, -99.387) ccw
  line L12 (-26.3091, -103.8078) -> (-2.5002, -91.2276)
  arc A13 (2.1533, -91.218) -> (-2.5002, -91.2276) centre (-0.1643, -95.6484) ccw
  line L13 (2.1533, -91.218) -> (26.2897, -103.8446)
  arc A14 (26.2897, -103.8446) -> (33.5337, -98.5588) centre (28.6074, -99.4142) ccw
  line L14 (33.5337, -98.5588) -> (28.9266, -72.0277)
  arc A15 (30.3555, -67.5989) -> (28.9266, -72.0277) centre (33.8529, -71.1723) ccw
  line L15 (30.3555, -67.5989) -> (49.8227, -48.5457)
  arc A16 (49.8227, -48.5457) -> (47.0341, -40.0229) centre (46.3254, -44.9724) ccw
  line L16 (47.0341, -40.0229) -> (20.3778, -36.2059)
  arc A17 (16.6074, -33.4784) -> (20.3778, -36.2059) centre (21.0866, -31.2564) ccw
  line L17 (16.6074, -33.4784) -> (4.5024, -9.0762)
  arc A18 (4.5024, -9.0762) -> (-4.465, -9.0947) centre (0.0232, -11.2982) ccw
  line L18 (-4.465, -9.0947) -> (-16.3324, -33.2668)
  arc A19 (-20.0916, -36.0098) -> (-16.3324, -33.2668) centre (-20.8206, -31.0632) ccw
  line L19 (-20.0916, -36.0098) -> (-47.0401, -39.9817)
extrude "Extrude4" add sketch "Sketch4" along normal blind 3 contours A0 L0 A1 L1 A2 L2 A3 L3 A4 L4 A5 L5 A6 L6 A7 L7 A8 L8 A9 L9 | A10 L10 A11 L11 A12 L12 A13 L13 A14 L14 A15 L15 A16 L16 A17 L17 A18 L18 A19 L19 bodies 2
extrude "Extrude5" add 1 faces at (-3.6841, -4, -65.1306) along direction (0, -1, 0) blind 3 on bodies 2 bodies 2
